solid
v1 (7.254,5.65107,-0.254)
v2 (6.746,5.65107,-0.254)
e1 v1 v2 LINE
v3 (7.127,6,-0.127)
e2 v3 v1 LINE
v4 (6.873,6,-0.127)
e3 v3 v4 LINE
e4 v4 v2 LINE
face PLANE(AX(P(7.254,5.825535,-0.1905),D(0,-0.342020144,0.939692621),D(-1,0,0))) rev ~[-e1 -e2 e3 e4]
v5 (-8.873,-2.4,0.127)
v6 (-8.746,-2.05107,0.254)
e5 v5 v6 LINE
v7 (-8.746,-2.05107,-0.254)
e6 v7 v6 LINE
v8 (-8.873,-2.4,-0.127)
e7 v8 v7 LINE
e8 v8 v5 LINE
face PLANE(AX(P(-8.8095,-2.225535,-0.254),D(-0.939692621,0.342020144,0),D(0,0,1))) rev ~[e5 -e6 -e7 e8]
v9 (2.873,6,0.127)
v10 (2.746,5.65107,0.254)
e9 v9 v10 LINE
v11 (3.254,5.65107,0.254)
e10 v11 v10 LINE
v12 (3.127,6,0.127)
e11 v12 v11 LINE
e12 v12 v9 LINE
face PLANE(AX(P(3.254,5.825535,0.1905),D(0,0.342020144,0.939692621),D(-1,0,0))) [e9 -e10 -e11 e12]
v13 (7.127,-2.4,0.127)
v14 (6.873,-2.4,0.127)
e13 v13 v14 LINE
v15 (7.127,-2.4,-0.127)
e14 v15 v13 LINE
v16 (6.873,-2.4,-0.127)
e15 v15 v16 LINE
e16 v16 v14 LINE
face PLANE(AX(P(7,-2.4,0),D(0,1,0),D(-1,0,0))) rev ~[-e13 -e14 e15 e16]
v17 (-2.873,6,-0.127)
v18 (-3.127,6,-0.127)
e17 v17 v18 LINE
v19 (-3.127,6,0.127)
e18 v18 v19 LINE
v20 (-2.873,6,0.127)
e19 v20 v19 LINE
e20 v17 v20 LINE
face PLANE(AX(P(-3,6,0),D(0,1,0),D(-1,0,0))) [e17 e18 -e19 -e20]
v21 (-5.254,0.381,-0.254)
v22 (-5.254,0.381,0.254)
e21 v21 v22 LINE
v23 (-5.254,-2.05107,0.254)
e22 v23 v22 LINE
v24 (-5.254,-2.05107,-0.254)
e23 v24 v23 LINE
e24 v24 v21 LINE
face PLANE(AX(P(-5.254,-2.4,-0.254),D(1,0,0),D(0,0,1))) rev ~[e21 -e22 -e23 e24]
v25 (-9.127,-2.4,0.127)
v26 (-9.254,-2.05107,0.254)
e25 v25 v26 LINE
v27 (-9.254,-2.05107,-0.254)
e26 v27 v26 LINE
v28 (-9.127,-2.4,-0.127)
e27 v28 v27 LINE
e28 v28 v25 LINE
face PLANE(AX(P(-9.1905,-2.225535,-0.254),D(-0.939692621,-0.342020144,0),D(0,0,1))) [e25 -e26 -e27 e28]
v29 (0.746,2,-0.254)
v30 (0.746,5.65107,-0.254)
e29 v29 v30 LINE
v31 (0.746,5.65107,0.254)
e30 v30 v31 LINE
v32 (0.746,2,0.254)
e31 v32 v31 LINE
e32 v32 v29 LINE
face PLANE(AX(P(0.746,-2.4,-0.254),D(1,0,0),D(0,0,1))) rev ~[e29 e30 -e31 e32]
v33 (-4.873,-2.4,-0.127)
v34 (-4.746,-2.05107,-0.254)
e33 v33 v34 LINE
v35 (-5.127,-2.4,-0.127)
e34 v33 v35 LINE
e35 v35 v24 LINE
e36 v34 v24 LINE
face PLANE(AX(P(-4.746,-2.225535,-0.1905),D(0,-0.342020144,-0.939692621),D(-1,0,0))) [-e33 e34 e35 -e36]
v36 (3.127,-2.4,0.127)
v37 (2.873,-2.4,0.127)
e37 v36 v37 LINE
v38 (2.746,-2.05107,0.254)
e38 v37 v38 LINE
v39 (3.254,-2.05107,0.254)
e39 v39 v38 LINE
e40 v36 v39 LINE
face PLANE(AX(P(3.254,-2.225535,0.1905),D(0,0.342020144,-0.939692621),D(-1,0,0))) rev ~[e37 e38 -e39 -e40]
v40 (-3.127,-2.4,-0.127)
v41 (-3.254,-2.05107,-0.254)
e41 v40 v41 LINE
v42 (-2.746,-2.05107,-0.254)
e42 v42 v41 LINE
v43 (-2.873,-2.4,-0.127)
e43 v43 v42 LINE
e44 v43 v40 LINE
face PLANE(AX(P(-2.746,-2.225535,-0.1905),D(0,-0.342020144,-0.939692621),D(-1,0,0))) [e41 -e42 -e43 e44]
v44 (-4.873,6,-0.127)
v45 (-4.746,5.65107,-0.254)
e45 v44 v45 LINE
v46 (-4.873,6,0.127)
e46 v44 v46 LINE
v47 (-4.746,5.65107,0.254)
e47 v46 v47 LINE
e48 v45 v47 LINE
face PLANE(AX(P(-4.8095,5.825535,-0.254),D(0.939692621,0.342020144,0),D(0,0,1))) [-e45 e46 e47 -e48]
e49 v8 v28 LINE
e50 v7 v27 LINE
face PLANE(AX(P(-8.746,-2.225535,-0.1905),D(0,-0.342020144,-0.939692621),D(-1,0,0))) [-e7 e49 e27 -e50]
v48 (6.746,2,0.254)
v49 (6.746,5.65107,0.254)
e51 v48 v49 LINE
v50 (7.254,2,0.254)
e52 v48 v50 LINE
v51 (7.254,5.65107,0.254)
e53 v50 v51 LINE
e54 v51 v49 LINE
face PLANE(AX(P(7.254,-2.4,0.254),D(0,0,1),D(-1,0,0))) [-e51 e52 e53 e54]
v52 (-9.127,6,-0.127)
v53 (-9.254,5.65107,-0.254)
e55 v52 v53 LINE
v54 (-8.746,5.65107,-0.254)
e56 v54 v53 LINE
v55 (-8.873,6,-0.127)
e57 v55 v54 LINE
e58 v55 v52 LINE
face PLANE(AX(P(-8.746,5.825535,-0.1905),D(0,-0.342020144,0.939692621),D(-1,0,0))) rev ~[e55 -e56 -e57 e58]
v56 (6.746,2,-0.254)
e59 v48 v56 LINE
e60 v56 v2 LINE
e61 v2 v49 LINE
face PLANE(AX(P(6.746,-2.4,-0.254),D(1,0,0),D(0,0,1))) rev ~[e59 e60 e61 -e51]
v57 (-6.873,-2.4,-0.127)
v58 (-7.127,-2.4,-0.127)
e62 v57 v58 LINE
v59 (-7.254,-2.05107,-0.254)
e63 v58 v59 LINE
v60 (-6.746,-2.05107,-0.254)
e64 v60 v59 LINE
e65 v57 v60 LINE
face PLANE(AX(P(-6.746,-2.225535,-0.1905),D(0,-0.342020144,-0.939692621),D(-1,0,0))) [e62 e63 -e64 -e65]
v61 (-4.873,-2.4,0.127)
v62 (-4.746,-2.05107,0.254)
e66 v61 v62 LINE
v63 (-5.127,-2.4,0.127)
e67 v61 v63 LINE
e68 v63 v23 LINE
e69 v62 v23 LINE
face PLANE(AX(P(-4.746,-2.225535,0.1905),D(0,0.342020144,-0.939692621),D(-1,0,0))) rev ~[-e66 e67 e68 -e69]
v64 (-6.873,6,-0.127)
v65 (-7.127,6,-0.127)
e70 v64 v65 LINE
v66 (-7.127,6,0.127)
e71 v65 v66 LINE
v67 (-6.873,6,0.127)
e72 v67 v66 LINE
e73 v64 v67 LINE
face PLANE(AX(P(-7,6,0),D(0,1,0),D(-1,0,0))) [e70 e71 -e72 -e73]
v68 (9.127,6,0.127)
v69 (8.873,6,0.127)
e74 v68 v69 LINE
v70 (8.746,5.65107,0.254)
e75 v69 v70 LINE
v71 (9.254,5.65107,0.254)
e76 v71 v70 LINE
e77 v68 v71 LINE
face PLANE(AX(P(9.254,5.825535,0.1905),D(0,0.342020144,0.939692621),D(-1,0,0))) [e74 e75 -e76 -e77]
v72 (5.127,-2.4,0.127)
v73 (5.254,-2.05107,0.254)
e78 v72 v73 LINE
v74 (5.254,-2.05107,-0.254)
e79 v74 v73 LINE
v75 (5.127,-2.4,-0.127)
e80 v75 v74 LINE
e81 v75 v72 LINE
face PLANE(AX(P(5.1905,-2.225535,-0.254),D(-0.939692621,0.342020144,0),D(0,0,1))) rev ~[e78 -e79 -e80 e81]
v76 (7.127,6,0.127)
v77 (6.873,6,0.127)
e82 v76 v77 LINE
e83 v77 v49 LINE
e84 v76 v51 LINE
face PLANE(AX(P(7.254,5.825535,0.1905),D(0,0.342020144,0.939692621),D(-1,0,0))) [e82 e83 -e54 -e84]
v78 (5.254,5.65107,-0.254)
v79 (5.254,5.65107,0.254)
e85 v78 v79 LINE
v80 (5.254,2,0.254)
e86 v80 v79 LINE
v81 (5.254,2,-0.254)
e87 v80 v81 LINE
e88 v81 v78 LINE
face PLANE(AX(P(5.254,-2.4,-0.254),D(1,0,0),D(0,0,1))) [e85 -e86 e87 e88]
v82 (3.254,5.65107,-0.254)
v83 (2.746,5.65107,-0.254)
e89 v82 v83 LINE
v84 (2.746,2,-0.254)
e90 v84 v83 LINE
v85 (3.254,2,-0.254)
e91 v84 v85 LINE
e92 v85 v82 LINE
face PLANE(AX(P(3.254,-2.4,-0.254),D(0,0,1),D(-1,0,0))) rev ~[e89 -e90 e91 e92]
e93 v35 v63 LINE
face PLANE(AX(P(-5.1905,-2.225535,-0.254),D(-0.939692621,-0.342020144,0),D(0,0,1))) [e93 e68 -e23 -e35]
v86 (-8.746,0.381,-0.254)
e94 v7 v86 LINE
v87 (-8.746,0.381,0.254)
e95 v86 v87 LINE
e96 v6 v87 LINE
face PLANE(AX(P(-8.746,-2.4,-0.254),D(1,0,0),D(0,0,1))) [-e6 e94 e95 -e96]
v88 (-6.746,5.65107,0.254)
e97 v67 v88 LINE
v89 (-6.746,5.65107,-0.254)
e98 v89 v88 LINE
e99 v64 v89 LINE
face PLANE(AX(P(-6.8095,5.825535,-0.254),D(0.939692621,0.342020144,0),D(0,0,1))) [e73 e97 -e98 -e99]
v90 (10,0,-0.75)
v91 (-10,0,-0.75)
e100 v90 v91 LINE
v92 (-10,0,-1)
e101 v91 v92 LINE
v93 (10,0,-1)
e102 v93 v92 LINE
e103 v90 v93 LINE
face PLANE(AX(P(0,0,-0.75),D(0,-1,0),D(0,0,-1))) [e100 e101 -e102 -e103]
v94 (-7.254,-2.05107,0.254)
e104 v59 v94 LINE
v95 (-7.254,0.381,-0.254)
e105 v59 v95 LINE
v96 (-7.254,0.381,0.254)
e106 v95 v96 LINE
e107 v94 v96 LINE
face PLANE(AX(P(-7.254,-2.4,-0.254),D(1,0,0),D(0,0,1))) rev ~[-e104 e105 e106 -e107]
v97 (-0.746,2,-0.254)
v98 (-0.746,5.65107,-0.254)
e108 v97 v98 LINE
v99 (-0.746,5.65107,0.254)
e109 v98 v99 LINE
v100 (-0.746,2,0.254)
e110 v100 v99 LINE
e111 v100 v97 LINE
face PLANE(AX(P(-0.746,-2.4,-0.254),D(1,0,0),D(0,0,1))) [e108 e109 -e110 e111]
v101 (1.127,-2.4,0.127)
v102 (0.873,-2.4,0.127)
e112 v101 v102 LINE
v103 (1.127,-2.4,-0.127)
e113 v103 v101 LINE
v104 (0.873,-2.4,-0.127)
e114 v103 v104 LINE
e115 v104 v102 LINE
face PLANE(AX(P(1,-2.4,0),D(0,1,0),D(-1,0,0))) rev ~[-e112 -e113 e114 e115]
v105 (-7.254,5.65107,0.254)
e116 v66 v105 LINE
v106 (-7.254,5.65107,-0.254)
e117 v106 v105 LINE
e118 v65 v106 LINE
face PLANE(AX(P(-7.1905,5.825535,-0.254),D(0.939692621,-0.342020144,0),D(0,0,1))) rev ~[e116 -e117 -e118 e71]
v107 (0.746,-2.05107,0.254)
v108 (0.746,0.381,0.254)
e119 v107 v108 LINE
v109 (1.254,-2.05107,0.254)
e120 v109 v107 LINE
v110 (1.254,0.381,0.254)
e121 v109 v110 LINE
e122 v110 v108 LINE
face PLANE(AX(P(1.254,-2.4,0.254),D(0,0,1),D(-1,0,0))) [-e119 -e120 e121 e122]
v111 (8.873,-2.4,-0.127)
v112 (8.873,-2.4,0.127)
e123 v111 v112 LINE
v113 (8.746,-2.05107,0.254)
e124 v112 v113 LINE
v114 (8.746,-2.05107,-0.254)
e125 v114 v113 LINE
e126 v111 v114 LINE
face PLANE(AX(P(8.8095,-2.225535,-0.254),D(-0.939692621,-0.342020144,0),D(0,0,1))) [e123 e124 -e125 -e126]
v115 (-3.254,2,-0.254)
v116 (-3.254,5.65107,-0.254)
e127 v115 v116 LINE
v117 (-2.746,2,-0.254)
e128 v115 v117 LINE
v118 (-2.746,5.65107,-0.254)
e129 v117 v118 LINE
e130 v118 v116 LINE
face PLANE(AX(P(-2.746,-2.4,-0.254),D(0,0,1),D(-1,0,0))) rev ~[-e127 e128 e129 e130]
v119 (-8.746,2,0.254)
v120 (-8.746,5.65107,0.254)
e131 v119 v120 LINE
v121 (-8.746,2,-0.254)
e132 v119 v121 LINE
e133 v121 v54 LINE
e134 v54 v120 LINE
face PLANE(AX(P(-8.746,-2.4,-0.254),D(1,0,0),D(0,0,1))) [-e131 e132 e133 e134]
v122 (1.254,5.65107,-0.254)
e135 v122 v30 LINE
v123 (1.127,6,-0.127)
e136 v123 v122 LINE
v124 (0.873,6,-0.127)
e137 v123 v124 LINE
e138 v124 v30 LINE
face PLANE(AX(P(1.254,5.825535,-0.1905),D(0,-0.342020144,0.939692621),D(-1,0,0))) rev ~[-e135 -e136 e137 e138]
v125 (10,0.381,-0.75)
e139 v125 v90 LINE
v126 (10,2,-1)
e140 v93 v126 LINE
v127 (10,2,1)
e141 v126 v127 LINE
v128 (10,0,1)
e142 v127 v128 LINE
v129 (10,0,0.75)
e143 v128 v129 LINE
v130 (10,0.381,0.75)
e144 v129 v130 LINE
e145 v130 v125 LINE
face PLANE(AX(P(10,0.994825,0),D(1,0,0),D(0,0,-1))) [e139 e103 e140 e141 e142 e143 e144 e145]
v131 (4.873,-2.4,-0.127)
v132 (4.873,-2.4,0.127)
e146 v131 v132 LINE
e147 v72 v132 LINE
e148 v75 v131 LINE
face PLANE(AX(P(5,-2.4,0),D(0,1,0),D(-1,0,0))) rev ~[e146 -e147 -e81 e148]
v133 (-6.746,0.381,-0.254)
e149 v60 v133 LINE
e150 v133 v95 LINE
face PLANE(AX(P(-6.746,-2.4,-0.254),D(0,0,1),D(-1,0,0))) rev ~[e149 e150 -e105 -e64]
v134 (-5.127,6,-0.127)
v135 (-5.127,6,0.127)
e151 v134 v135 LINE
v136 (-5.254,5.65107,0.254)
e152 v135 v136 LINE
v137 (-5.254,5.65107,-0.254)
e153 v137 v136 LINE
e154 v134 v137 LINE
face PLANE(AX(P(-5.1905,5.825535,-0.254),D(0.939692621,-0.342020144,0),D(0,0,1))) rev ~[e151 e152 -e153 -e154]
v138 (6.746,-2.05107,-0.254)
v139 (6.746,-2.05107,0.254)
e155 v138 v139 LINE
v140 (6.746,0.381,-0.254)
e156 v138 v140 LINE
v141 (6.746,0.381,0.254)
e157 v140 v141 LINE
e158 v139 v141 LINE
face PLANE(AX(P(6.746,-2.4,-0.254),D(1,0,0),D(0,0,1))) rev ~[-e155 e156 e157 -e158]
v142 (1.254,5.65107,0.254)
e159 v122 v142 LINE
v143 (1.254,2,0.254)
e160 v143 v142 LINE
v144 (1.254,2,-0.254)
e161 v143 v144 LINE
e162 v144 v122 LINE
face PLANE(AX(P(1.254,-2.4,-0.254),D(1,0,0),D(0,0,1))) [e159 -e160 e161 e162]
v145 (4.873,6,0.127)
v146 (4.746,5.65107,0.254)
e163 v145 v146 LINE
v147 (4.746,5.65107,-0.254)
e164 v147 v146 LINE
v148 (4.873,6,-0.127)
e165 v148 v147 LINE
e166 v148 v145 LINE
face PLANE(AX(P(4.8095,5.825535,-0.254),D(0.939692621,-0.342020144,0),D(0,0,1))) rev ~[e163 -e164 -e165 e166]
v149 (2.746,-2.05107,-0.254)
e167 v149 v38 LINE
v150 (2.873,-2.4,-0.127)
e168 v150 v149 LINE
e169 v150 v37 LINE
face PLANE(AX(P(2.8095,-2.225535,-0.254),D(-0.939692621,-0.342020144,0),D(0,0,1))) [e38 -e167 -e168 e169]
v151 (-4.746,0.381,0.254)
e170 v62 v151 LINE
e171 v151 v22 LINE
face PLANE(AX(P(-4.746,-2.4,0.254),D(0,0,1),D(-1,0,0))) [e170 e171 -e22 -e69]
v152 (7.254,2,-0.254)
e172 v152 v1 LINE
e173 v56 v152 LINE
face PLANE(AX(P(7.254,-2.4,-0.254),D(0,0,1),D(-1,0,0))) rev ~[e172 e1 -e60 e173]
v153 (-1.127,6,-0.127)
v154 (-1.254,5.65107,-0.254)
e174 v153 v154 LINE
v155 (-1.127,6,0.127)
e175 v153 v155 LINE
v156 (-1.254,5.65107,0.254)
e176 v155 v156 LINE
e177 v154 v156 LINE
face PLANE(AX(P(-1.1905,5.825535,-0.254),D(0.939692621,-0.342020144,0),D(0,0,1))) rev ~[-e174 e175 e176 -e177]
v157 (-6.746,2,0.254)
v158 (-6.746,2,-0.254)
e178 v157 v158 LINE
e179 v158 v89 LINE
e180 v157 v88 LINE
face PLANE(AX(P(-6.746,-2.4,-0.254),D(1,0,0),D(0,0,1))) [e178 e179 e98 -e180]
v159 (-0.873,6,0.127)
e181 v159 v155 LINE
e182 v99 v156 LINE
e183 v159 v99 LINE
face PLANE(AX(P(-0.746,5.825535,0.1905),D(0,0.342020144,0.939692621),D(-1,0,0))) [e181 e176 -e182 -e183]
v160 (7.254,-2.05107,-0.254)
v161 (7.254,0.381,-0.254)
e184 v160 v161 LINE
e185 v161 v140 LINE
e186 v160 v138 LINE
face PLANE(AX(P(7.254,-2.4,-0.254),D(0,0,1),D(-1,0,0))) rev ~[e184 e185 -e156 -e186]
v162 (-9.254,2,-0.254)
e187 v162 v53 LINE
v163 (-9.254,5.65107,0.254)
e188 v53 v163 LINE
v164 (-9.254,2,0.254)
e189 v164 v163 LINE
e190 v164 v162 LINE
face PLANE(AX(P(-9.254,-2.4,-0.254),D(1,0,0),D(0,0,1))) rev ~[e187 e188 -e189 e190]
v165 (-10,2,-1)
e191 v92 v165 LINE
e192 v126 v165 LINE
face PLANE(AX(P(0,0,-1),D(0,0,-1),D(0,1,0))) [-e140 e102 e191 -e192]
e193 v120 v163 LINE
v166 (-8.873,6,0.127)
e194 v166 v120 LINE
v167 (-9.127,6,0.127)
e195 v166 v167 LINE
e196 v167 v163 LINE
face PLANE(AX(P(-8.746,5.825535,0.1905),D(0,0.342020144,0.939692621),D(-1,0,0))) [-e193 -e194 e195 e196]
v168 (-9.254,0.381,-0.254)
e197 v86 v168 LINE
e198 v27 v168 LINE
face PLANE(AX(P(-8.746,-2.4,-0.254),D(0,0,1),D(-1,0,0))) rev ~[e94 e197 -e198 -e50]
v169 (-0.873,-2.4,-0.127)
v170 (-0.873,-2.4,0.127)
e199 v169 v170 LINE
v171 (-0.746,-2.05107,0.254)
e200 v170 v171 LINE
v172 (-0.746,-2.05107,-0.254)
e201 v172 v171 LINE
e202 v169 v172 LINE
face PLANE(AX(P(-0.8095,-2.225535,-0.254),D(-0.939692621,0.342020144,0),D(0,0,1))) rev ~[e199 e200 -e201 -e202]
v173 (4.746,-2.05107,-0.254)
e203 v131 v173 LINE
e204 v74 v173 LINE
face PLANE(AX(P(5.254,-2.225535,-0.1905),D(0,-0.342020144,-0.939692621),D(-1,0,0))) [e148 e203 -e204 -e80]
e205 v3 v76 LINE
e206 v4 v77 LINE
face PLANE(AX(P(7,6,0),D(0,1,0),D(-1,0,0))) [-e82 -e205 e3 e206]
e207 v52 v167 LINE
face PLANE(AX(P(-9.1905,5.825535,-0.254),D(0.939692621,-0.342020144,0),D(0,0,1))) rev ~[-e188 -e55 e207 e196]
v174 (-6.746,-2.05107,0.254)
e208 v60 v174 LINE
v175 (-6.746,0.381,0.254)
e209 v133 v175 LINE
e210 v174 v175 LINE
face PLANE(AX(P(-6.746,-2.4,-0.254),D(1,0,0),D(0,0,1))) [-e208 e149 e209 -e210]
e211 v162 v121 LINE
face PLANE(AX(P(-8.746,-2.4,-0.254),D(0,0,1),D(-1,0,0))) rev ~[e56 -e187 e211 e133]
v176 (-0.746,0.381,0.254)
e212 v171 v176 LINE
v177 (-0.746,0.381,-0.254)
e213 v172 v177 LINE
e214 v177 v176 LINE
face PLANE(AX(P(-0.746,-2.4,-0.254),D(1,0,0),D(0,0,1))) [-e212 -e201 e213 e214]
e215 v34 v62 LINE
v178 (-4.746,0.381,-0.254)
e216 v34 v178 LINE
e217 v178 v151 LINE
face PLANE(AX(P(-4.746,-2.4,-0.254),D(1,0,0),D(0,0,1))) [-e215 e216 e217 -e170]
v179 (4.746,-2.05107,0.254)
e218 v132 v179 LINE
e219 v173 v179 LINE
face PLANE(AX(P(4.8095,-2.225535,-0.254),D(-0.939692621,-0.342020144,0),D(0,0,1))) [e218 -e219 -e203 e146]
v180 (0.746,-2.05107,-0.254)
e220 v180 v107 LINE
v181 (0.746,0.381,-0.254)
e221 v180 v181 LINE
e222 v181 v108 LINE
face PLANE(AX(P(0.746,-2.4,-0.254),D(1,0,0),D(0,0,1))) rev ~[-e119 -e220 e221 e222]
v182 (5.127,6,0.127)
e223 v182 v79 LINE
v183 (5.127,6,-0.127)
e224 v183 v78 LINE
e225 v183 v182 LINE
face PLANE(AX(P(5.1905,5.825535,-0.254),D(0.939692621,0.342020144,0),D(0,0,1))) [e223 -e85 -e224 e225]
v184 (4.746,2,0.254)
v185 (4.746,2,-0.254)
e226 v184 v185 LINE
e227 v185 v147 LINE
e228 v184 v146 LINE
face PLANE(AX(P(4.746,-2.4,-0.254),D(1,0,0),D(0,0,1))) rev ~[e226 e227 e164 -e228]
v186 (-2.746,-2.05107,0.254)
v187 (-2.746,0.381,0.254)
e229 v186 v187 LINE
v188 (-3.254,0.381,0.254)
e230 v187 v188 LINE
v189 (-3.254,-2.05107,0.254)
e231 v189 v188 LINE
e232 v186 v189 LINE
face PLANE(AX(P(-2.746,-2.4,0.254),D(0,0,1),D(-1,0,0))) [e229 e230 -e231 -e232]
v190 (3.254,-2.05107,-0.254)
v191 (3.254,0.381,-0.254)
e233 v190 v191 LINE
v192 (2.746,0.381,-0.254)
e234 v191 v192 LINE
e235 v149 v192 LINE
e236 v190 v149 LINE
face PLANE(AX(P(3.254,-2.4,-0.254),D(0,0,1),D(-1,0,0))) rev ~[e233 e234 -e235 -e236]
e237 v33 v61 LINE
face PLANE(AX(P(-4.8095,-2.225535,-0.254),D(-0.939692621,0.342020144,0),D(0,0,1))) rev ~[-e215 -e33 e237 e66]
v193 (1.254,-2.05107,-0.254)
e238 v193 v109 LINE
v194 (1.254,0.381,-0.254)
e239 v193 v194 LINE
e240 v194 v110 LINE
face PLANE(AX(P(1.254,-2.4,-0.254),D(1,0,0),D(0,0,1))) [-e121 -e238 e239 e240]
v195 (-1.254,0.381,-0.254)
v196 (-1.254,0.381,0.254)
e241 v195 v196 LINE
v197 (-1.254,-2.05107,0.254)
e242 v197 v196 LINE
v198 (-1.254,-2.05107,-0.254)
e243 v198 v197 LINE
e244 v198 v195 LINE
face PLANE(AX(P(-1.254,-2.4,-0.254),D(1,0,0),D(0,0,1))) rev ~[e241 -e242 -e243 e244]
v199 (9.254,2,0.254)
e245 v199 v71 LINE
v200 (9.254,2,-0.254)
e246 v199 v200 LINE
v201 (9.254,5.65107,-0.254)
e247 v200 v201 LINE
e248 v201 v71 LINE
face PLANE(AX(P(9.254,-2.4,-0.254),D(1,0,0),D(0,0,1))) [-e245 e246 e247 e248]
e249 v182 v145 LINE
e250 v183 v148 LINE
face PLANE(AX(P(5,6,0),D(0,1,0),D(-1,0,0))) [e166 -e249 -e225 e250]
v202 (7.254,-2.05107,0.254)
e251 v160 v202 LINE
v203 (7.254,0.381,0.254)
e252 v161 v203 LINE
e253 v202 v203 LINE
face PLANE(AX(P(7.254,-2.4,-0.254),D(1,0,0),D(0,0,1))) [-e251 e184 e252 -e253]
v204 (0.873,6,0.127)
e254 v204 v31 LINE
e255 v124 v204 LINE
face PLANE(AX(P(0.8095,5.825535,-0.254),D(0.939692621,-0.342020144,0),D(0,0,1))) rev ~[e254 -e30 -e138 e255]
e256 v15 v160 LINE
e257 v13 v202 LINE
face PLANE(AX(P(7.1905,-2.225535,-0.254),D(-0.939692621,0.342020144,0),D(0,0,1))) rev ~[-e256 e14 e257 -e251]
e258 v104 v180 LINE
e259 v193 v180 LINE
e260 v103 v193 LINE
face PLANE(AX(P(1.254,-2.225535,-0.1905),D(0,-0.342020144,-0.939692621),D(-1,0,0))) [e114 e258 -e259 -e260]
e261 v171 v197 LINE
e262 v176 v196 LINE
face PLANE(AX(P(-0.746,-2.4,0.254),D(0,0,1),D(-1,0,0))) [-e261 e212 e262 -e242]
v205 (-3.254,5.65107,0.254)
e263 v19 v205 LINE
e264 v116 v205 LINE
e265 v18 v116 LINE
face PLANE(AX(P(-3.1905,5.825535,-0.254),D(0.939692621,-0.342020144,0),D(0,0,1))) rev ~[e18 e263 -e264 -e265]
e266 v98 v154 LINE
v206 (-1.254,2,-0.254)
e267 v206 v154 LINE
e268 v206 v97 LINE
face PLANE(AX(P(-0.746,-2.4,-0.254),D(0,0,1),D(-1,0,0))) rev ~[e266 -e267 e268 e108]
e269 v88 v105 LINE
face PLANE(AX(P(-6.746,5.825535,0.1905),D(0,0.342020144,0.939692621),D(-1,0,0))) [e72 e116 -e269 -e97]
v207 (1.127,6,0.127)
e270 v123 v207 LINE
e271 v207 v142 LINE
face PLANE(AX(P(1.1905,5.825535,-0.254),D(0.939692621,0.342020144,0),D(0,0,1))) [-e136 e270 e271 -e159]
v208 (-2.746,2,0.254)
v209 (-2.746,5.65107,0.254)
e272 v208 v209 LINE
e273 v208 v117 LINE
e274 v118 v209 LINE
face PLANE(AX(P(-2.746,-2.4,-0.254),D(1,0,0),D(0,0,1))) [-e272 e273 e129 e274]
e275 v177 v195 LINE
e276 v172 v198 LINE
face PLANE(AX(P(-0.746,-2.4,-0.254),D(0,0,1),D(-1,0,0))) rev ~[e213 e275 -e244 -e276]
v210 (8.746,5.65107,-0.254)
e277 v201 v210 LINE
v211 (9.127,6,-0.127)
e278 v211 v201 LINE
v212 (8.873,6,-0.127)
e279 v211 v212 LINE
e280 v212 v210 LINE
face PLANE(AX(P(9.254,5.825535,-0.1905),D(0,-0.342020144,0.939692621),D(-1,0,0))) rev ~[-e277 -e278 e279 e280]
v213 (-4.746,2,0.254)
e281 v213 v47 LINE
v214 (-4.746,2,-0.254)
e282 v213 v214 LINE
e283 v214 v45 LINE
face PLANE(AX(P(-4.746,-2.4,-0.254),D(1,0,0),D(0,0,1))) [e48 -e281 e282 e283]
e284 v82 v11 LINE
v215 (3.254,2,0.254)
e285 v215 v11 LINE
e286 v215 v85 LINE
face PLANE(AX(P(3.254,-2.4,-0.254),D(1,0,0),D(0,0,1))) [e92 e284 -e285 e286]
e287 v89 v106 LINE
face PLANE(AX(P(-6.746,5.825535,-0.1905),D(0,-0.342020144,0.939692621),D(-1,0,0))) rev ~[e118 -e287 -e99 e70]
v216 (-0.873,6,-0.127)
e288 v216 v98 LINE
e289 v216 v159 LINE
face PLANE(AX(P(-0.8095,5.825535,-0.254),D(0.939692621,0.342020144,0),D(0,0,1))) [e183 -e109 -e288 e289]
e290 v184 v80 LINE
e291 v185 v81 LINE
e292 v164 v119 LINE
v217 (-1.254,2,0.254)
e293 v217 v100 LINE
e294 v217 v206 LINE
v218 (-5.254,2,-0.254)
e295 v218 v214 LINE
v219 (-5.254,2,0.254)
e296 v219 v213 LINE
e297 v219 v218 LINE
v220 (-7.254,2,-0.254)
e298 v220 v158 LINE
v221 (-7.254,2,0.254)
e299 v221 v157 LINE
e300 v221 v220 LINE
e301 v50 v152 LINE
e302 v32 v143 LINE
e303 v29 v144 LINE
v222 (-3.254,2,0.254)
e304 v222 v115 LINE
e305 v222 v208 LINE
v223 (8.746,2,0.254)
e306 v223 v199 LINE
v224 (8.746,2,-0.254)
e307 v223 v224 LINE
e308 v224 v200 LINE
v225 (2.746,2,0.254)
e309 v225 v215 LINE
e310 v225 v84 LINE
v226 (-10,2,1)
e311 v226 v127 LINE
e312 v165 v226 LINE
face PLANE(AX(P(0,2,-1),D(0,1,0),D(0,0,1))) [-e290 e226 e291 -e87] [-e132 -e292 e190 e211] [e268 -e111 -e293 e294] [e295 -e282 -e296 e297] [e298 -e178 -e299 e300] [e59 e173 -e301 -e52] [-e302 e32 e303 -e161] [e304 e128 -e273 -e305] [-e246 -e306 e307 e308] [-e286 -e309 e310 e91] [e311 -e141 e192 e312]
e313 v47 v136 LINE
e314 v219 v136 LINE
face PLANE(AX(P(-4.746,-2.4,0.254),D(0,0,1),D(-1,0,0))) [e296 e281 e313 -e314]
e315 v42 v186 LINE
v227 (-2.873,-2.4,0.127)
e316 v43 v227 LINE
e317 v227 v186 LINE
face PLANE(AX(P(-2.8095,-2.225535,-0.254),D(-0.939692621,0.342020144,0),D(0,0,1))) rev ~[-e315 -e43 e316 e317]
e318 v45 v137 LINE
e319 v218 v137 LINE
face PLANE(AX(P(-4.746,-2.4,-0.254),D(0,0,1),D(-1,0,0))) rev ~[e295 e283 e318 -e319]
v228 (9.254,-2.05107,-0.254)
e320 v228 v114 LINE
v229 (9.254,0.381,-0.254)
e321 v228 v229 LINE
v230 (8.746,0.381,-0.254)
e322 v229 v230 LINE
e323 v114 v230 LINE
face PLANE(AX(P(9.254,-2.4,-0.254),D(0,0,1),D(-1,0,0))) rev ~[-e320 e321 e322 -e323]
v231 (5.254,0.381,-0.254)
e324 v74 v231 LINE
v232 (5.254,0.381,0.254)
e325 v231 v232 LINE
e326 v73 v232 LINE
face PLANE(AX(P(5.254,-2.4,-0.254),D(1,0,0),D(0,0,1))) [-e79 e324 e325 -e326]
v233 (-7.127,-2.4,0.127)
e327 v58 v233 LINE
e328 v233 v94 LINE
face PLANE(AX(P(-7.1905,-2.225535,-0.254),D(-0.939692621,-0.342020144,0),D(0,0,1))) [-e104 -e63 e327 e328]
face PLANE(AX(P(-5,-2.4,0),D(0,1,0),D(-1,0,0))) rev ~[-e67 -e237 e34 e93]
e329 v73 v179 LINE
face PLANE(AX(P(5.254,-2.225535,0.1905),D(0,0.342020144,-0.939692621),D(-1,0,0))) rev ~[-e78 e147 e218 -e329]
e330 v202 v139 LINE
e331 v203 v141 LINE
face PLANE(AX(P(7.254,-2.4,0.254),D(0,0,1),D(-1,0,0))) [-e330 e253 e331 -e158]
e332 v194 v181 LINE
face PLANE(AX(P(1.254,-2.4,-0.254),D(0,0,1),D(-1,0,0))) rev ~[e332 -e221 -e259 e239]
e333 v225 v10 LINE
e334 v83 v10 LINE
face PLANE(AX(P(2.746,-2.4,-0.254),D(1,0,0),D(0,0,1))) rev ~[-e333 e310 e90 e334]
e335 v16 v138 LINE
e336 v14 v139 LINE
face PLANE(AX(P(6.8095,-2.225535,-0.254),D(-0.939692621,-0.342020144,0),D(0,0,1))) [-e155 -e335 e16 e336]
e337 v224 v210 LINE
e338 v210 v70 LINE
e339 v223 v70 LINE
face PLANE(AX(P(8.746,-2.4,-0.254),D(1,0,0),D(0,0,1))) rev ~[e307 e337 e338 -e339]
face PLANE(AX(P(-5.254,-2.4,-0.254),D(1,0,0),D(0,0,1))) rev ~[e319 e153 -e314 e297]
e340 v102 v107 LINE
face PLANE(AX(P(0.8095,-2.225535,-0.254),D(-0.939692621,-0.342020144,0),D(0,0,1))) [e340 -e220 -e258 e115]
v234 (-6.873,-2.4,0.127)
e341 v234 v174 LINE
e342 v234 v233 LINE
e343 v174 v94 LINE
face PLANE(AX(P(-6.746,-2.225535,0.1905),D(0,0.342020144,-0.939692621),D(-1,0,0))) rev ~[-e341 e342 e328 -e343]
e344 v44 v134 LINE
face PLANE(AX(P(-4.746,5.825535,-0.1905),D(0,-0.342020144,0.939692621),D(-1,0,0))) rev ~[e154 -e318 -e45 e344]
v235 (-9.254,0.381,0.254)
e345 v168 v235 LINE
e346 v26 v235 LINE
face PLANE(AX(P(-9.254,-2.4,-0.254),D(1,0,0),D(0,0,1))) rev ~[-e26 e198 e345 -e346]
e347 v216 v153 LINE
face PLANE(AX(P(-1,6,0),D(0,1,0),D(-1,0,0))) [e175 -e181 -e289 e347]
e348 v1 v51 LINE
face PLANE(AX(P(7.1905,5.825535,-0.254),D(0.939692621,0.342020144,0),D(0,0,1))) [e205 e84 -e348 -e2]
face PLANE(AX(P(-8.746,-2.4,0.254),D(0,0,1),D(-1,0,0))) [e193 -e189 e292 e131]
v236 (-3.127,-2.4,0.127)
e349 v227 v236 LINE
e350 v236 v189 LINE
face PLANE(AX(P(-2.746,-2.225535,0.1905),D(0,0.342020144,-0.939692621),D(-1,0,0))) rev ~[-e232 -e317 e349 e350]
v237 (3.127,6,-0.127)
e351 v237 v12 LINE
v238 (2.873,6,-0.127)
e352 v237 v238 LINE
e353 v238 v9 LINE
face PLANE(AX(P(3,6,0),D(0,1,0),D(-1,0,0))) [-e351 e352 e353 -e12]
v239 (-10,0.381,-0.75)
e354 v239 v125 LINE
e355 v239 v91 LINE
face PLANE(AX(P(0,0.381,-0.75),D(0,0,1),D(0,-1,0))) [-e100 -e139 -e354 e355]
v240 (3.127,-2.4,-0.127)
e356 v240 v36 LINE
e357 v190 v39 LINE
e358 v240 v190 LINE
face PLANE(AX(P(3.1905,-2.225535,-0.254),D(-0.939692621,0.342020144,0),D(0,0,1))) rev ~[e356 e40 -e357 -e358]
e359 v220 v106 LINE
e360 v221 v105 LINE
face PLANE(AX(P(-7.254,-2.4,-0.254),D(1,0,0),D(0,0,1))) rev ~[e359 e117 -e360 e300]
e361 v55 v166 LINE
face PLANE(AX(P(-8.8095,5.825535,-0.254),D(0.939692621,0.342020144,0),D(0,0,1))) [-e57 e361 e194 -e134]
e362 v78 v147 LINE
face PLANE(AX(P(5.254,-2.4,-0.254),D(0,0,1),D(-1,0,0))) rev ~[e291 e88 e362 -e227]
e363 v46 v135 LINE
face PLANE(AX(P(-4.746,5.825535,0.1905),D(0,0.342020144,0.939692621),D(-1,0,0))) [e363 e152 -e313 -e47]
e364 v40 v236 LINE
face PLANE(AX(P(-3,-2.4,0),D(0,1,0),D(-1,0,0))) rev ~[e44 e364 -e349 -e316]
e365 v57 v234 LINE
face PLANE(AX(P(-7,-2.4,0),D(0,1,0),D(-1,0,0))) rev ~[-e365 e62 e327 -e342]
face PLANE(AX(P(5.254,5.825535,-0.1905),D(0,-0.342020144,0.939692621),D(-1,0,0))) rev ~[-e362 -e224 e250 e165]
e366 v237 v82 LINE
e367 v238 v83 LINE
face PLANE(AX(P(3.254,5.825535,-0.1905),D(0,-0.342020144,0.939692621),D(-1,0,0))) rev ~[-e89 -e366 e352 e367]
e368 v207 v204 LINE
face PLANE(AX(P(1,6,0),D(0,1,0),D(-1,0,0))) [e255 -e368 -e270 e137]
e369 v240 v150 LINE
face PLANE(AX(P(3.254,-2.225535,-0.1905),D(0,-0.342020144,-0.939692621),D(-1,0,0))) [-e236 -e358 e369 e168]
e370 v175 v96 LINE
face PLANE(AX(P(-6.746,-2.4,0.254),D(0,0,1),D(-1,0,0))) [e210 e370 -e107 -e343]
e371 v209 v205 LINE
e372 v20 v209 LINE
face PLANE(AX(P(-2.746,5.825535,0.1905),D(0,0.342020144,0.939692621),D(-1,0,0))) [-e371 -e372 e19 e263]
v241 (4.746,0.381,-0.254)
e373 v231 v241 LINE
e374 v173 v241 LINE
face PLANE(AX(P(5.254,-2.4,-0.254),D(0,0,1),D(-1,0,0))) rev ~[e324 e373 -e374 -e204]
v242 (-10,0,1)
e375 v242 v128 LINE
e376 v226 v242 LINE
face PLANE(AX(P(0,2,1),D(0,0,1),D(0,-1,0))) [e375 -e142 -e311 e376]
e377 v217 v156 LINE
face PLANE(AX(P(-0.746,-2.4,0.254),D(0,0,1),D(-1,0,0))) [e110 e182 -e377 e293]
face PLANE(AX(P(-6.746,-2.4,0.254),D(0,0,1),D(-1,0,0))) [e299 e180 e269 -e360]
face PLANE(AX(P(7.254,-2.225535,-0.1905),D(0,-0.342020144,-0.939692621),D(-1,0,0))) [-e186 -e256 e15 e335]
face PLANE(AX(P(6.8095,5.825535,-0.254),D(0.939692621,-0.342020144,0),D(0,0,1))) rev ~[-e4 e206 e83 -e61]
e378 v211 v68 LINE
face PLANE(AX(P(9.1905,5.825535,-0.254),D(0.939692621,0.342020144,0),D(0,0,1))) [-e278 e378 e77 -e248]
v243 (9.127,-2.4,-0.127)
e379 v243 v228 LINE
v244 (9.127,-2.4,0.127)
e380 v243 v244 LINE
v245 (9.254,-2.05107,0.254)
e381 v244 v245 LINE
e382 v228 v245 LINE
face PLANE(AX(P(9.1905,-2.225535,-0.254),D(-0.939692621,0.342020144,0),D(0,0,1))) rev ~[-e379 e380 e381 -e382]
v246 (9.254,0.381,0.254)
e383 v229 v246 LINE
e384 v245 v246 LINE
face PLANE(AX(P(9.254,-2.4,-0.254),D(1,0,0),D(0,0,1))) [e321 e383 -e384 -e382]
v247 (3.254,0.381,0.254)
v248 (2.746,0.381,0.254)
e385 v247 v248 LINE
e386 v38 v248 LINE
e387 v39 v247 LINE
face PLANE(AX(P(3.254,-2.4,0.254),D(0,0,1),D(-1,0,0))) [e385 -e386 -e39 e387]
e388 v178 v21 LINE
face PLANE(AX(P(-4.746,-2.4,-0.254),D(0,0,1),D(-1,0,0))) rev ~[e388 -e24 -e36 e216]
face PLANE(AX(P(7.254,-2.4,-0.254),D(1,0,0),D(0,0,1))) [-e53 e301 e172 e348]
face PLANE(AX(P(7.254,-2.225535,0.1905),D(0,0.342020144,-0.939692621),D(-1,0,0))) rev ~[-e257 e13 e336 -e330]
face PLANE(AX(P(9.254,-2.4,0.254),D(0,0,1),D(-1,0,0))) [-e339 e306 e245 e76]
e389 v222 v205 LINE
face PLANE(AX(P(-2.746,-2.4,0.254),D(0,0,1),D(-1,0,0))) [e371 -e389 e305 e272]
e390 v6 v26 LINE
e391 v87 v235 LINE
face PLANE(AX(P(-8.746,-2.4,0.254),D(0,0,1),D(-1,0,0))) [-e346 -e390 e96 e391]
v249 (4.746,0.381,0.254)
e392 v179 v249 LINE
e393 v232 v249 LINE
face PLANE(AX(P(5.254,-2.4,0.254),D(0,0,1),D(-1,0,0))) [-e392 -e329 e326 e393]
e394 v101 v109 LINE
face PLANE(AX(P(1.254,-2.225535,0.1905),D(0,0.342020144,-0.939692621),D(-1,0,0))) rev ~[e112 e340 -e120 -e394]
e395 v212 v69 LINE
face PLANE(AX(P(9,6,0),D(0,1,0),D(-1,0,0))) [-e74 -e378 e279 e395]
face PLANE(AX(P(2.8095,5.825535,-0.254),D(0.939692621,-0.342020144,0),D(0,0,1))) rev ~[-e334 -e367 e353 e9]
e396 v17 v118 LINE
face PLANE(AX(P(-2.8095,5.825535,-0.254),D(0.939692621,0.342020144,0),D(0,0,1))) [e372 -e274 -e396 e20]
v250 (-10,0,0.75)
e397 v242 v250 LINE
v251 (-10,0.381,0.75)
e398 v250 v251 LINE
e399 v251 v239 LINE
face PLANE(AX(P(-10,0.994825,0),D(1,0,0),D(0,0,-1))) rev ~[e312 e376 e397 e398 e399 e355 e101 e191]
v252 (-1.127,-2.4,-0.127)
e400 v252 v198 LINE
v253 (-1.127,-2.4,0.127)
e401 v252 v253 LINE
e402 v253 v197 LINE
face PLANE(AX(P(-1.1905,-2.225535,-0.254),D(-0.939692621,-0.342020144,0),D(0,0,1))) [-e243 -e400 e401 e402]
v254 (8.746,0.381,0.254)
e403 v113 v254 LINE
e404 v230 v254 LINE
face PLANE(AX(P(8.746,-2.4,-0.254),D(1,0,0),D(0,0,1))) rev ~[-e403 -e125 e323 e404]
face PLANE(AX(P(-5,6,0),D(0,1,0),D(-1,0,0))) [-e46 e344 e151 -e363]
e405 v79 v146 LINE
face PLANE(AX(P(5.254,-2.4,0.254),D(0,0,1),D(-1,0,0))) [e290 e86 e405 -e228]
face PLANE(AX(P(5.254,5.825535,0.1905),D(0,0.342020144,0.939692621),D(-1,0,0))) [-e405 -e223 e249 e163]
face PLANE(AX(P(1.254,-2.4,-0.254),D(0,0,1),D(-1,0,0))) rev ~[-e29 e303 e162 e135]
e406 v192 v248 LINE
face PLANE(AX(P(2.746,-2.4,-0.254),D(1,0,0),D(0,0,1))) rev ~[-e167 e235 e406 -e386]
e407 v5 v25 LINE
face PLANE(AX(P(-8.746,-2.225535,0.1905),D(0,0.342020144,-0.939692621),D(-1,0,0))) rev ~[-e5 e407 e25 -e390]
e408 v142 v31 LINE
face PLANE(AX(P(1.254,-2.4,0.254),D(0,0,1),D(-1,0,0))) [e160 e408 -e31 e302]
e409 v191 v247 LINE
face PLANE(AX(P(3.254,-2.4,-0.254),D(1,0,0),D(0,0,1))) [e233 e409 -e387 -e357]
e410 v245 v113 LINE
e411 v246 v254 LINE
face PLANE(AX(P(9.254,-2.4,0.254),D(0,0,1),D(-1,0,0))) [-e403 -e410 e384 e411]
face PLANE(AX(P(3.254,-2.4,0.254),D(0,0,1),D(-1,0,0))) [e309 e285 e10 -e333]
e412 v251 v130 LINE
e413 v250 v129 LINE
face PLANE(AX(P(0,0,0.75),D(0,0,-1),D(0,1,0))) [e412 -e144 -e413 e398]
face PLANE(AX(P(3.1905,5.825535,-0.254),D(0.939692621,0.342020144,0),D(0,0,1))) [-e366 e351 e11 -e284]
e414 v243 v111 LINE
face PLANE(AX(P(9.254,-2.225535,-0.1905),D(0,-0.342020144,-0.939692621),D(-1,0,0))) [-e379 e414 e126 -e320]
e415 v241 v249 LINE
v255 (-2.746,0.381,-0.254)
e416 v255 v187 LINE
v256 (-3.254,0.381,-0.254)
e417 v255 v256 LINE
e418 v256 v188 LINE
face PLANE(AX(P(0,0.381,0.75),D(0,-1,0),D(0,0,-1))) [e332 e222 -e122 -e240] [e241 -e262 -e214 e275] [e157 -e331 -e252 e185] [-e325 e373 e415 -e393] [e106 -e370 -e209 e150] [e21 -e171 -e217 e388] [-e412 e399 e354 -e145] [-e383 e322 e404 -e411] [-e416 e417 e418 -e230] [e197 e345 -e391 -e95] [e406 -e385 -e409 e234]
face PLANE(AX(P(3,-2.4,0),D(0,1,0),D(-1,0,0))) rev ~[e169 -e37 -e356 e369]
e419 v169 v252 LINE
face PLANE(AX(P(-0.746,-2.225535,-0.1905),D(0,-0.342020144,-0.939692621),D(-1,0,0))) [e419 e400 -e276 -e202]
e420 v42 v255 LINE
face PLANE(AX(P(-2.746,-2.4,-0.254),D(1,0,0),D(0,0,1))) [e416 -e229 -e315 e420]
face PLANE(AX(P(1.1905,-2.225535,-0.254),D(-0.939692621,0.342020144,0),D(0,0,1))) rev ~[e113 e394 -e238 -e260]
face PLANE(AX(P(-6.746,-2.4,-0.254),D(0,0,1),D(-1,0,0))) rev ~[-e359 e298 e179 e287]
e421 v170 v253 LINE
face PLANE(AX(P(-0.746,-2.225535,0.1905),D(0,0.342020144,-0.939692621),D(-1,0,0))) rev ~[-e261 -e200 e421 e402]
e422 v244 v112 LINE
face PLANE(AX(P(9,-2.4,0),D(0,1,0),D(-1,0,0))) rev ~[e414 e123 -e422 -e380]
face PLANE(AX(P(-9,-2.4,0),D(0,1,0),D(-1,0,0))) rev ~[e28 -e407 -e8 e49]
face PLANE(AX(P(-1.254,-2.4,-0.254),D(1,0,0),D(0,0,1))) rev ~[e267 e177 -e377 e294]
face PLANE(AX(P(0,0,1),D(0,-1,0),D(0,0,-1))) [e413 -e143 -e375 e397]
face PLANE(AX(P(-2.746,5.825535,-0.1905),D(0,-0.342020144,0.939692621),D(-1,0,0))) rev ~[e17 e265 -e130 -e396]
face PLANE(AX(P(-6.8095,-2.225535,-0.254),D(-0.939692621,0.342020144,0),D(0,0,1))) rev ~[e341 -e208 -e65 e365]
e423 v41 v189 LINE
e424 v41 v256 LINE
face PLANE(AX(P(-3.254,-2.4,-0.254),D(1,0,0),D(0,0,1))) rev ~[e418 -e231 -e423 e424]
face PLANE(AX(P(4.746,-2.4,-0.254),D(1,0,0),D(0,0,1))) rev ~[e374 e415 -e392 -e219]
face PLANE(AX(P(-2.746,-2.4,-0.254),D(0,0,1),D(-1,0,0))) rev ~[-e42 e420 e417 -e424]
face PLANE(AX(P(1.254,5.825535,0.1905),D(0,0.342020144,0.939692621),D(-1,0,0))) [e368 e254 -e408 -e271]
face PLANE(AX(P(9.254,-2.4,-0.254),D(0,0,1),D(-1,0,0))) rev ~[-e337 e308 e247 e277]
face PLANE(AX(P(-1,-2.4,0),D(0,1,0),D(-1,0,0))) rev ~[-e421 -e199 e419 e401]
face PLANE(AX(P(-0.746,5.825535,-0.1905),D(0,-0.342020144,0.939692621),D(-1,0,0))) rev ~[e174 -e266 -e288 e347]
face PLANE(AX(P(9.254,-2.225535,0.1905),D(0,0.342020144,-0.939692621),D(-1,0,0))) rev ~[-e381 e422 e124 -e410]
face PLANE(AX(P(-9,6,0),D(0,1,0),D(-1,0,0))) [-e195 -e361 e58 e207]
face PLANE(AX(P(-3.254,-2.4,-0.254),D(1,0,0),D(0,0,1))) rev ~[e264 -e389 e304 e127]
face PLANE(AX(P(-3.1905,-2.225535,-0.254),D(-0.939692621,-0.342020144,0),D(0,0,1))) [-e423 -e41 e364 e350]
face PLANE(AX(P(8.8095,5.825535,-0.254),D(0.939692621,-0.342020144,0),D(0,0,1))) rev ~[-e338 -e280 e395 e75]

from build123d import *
from OCP.BRepFilletAPI import BRepFilletAPI_MakeChamfer

# Parameters (mm, degrees)
BASE_EXTRUDE_DEPTH                 = 10
PINBODY_START                      = -4.4
SKETCH2_W                          = 0.508
SKETCH2_H                          = 0.508
PINBODY_DEPTH                      = 8.4
PINSCHAMFER_SIZE                   = 0.127
PINSCHAMFER_SIZE2                  = 0.348929632
LPATTERN1_COUNT                    = 5
LPATTERN1_PITCH                    = 2
PINSCHAMFER_OF_LPATTERN1_SIZE      = 0.127
PINSCHAMFER_OF_LPATTERN1_SIZE2     = 0.348929632
LPATTERN1_COL_COUNT                = 6
LPATTERN1_COL_PITCH                = 2.000000064
PINSCHAMFER_OF_LPATTERN1_COL_SIZE  = 0.127
PINSCHAMFER_OF_LPATTERN1_COL_SIZE2 = 0.348929632


with BuildPart() as part:
    # Sketch1 → Base-Extrude (new, symmetric)
    with BuildSketch(Plane(origin=(0, 0, 0), x_dir=(0, 0, -1), z_dir=(1, 0, 0))):
        Polygon((1, 0.409926053), (1, 2), (-1, 2), (-1, 0.409926053), (-1, 0), (-0.75, 0), (-0.75, 0.381), (0.75, 0.381), (0.75, 0), (1, 0), align=None)
    extrude(amount=BASE_EXTRUDE_DEPTH, both=True)

    # Sketch2 → PINBODY (add)
    with BuildSketch(Plane(origin=(0, 2, 0), x_dir=(-1, 0, 0), z_dir=(0, 1, 0)).offset(PINBODY_START)):
        with Locations((1, 0)):
            Rectangle(SKETCH2_W, SKETCH2_H)
    pinbody = extrude(amount=PINBODY_DEPTH)

    # pinsCHAMFER: one chamfer whose edges measure the first distance from different faces: ONE call of the kernel's chamfer builder (chamfer() names one face for all edges)
    pinschamfer_edges_1 = [part.edges().sort_by_distance(p)[0] for p in [
        (-1.254, -2.4, 0),
        (-1, -2.4, 0.254),
        (-0.746, -2.4, 0),
        (-1, -2.4, -0.254),
    ]]
    pinschamfer_side_1 = [part.faces().sort_by_distance(p)[0] for p in [
        (-1, -2.4, 0),
    ]]
    pinschamfer_edges_2 = [part.edges().sort_by_distance(p)[0] for p in [
        (-1.254, 6, 0),
        (-1, 6, 0.254),
        (-0.746, 6, 0),
        (-1, 6, -0.254),
    ]]
    pinschamfer_side_2 = [part.faces().sort_by_distance(p)[0] for p in [
        (-1, 6, 0),
    ]]
    pinschamfer = BRepFilletAPI_MakeChamfer(part.part.solid().wrapped)
    for e in pinschamfer_edges_1:
        pinschamfer.Add(PINSCHAMFER_SIZE, PINSCHAMFER_SIZE2, e.wrapped, pinschamfer_side_1[0].wrapped)  # the first distance lies on this face
    for e in pinschamfer_edges_2:
        pinschamfer.Add(PINSCHAMFER_SIZE, PINSCHAMFER_SIZE2, e.wrapped, pinschamfer_side_2[0].wrapped)  # the first distance lies on this face
    add(Compound.cast(pinschamfer.Shape()), mode=Mode.REPLACE)

    # LPattern1: PINBODY ×5
    with Locations(*[(-i * LPATTERN1_PITCH, 0, 0) for i in range(1, LPATTERN1_COUNT)]):
        add(pinbody)

    # pinsCHAMFER of LPattern1: one chamfer whose edges measure the first distance from different faces: ONE call of the kernel's chamfer builder (chamfer() names one face for all edges)
    pinschamfer_of_lpattern1_edges_1 = [part.edges().sort_by_distance(p)[0] for p in [
        (-3.254, -2.4, 0),
        (-3, -2.4, 0.254),
        (-2.746, -2.4, 0),
        (-3, -2.4, -0.254),
    ]]
    pinschamfer_of_lpattern1_side_1 = [part.faces().sort_by_distance(p)[0] for p in [
        (-3, -2.4, 0),
    ]]
    pinschamfer_of_lpattern1_edges_2 = [part.edges().sort_by_distance(p)[0] for p in [
        (-3.254, 6, 0),
        (-3, 6, 0.254),
        (-2.746, 6, 0),
        (-3, 6, -0.254),
    ]]
    pinschamfer_of_lpattern1_side_2 = [part.faces().sort_by_distance(p)[0] for p in [
        (-3, 6, 0),
    ]]
    pinschamfer_of_lpattern1_edges_3 = [part.edges().sort_by_distance(p)[0] for p in [
        (-5.254, -2.4, 0),
        (-5, -2.4, 0.254),
        (-4.746, -2.4, 0),
        (-5, -2.4, -0.254),
    ]]
    pinschamfer_of_lpattern1_side_3 = [part.faces().sort_by_distance(p)[0] for p in [
        (-5, -2.4, 0),
    ]]
    pinschamfer_of_lpattern1_edges_4 = [part.edges().sort_by_distance(p)[0] for p in [
        (-5.254, 6, 0),
        (-5, 6, 0.254),
        (-4.746, 6, 0),
        (-5, 6, -0.254),
    ]]
    pinschamfer_of_lpattern1_side_4 = [part.faces().sort_by_distance(p)[0] for p in [
        (-5, 6, 0),
    ]]
    pinschamfer_of_lpattern1_edges_5 = [part.edges().sort_by_distance(p)[0] for p in [
        (-7.254, -2.4, 0),
        (-7, -2.4, 0.254),
        (-6.746, -2.4, 0),
        (-7, -2.4, -0.254),
    ]]
    pinschamfer_of_lpattern1_side_5 = [part.faces().sort_by_distance(p)[0] for p in [
        (-7, -2.4, 0),
    ]]
    pinschamfer_of_lpattern1_edges_6 = [part.edges().sort_by_distance(p)[0] for p in [
        (-7.254, 6, 0),
        (-7, 6, 0.254),
        (-6.746, 6, 0),
        (-7, 6, -0.254),
    ]]
    pinschamfer_of_lpattern1_side_6 = [part.faces().sort_by_distance(p)[0] for p in [
        (-7, 6, 0),
    ]]
    pinschamfer_of_lpattern1_edges_7 = [part.edges().sort_by_distance(p)[0] for p in [
        (-9.254, -2.4, 0),
        (-9, -2.4, 0.254),
        (-8.746, -2.4, 0),
        (-9, -2.4, -0.254),
    ]]
    pinschamfer_of_lpattern1_side_7 = [part.faces().sort_by_distance(p)[0] for p in [
        (-9, -2.4, 0),
    ]]
    pinschamfer_of_lpattern1_edges_8 = [part.edges().sort_by_distance(p)[0] for p in [
        (-9.254, 6, 0),
        (-9, 6, 0.254),
        (-8.746, 6, 0),
        (-9, 6, -0.254),
    ]]
    pinschamfer_of_lpattern1_side_8 = [part.faces().sort_by_distance(p)[0] for p in [
        (-9, 6, 0),
    ]]
    pinschamfer_of_lpattern1 = BRepFilletAPI_MakeChamfer(part.part.solid().wrapped)
    for e in pinschamfer_of_lpattern1_edges_1:
        pinschamfer_of_lpattern1.Add(PINSCHAMFER_OF_LPATTERN1_SIZE, PINSCHAMFER_OF_LPATTERN1_SIZE2, e.wrapped, pinschamfer_of_lpattern1_side_1[0].wrapped)  # the first distance lies on this face
    for e in pinschamfer_of_lpattern1_edges_2:
        pinschamfer_of_lpattern1.Add(PINSCHAMFER_OF_LPATTERN1_SIZE, PINSCHAMFER_OF_LPATTERN1_SIZE2, e.wrapped, pinschamfer_of_lpattern1_side_2[0].wrapped)  # the first distance lies on this face
    for e in pinschamfer_of_lpattern1_edges_3:
        pinschamfer_of_lpattern1.Add(PINSCHAMFER_OF_LPATTERN1_SIZE, PINSCHAMFER_OF_LPATTERN1_SIZE2, e.wrapped, pinschamfer_of_lpattern1_side_3[0].wrapped)  # the first distance lies on this face
    for e in pinschamfer_of_lpattern1_edges_4:
        pinschamfer_of_lpattern1.Add(PINSCHAMFER_OF_LPATTERN1_SIZE, PINSCHAMFER_OF_LPATTERN1_SIZE2, e.wrapped, pinschamfer_of_lpattern1_side_4[0].wrapped)  # the first distance lies on this face
    for e in pinschamfer_of_lpattern1_edges_5:
        pinschamfer_of_lpattern1.Add(PINSCHAMFER_OF_LPATTERN1_SIZE, PINSCHAMFER_OF_LPATTERN1_SIZE2, e.wrapped, pinschamfer_of_lpattern1_side_5[0].wrapped)  # the first distance lies on this face
    for e in pinschamfer_of_lpattern1_edges_6:
        pinschamfer_of_lpattern1.Add(PINSCHAMFER_OF_LPATTERN1_SIZE, PINSCHAMFER_OF_LPATTERN1_SIZE2, e.wrapped, pinschamfer_of_lpattern1_side_6[0].wrapped)  # the first distance lies on this face
    for e in pinschamfer_of_lpattern1_edges_7:
        pinschamfer_of_lpattern1.Add(PINSCHAMFER_OF_LPATTERN1_SIZE, PINSCHAMFER_OF_LPATTERN1_SIZE2, e.wrapped, pinschamfer_of_lpattern1_side_7[0].wrapped)  # the first distance lies on this face
    for e in pinschamfer_of_lpattern1_edges_8:
        pinschamfer_of_lpattern1.Add(PINSCHAMFER_OF_LPATTERN1_SIZE, PINSCHAMFER_OF_LPATTERN1_SIZE2, e.wrapped, pinschamfer_of_lpattern1_side_8[0].wrapped)  # the first distance lies on this face
    add(Compound.cast(pinschamfer_of_lpattern1.Shape()), mode=Mode.REPLACE)

    # LPattern1 col: PINBODY ×6
    with Locations(*[(i * LPATTERN1_COL_PITCH, 0, 0) for i in range(1, LPATTERN1_COL_COUNT)]):
        add(pinbody)

    # pinsCHAMFER of LPattern1 col: one chamfer whose edges measure the first distance from different faces: ONE call of the kernel's chamfer builder (chamfer() names one face for all edges)
    pinschamfer_of_lpattern1_col_edges_1 = [part.edges().sort_by_distance(p)[0] for p in [
        (0.746000064, -2.4, 0),
        (1.000000064, -2.4, 0.254),
        (1.254000064, -2.4, 0),
        (1.000000064, -2.4, -0.254),
    ]]
    pinschamfer_of_lpattern1_col_side_1 = [part.faces().sort_by_distance(p)[0] for p in [
        (1.000000064, -2.4, 0),
    ]]
    pinschamfer_of_lpattern1_col_edges_2 = [part.edges().sort_by_distance(p)[0] for p in [
        (0.746000064, 6, 0),
        (1.000000064, 6, 0.254),
        (1.254000064, 6, 0),
        (1.000000064, 6, -0.254),
    ]]
    pinschamfer_of_lpattern1_col_side_2 = [part.faces().sort_by_distance(p)[0] for p in [
        (1.000000064, 6, 0),
    ]]
    pinschamfer_of_lpattern1_col_edges_3 = [part.edges().sort_by_distance(p)[0] for p in [
        (2.746000128, -2.4, 0),
        (3.000000128, -2.4, 0.254),
        (3.254000128, -2.4, 0),
        (3.000000128, -2.4, -0.254),
    ]]
    pinschamfer_of_lpattern1_col_side_3 = [part.faces().sort_by_distance(p)[0] for p in [
        (3.000000128, -2.4, 0),
    ]]
    pinschamfer_of_lpattern1_col_edges_4 = [part.edges().sort_by_distance(p)[0] for p in [
        (2.746000128, 6, 0),
        (3.000000128, 6, 0.254),
        (3.254000128, 6, 0),
        (3.000000128, 6, -0.254),
    ]]
    pinschamfer_of_lpattern1_col_side_4 = [part.faces().sort_by_distance(p)[0] for p in [
        (3.000000128, 6, 0),
    ]]
    pinschamfer_of_lpattern1_col_edges_5 = [part.edges().sort_by_distance(p)[0] for p in [
        (4.746000192, -2.4, 0),
        (5.000000192, -2.4, 0.254),
        (5.254000192, -2.4, 0),
        (5.000000192, -2.4, -0.254),
    ]]
    pinschamfer_of_lpattern1_col_side_5 = [part.faces().sort_by_distance(p)[0] for p in [
        (5.000000192, -2.4, 0),
    ]]
    pinschamfer_of_lpattern1_col_edges_6 = [part.edges().sort_by_distance(p)[0] for p in [
        (4.746000192, 6, 0),
        (5.000000192, 6, 0.254),
        (5.254000192, 6, 0),
        (5.000000192, 6, -0.254),
    ]]
    pinschamfer_of_lpattern1_col_side_6 = [part.faces().sort_by_distance(p)[0] for p in [
        (5.000000192, 6, 0),
    ]]
    pinschamfer_of_lpattern1_col_edges_7 = [part.edges().sort_by_distance(p)[0] for p in [
        (6.746000256, -2.4, 0),
        (7.000000256, -2.4, 0.254),
        (7.254000256, -2.4, 0),
        (7.000000256, -2.4, -0.254),
    ]]
    pinschamfer_of_lpattern1_col_side_7 = [part.faces().sort_by_distance(p)[0] for p in [
        (7.000000256, -2.4, 0),
    ]]
    pinschamfer_of_lpattern1_col_edges_8 = [part.edges().sort_by_distance(p)[0] for p in [
        (6.746000256, 6, 0),
        (7.000000256, 6, 0.254),
        (7.254000256, 6, 0),
        (7.000000256, 6, -0.254),
    ]]
    pinschamfer_of_lpattern1_col_side_8 = [part.faces().sort_by_distance(p)[0] for p in [
        (7.000000256, 6, 0),
    ]]
    pinschamfer_of_lpattern1_col_edges_9 = [part.edges().sort_by_distance(p)[0] for p in [
        (8.74600032, -2.4, 0),
        (9.00000032, -2.4, 0.254),
        (9.25400032, -2.4, 0),
        (9.00000032, -2.4, -0.254),
    ]]
    pinschamfer_of_lpattern1_col_side_9 = [part.faces().sort_by_distance(p)[0] for p in [
        (9.00000032, -2.4, 0),
    ]]
    pinschamfer_of_lpattern1_col_edges_10 = [part.edges().sort_by_distance(p)[0] for p in [
        (8.74600032, 6, 0),
        (9.00000032, 6, 0.254),
        (9.25400032, 6, 0),
        (9.00000032, 6, -0.254),
    ]]
    pinschamfer_of_lpattern1_col_side_10 = [part.faces().sort_by_distance(p)[0] for p in [
        (9.00000032, 6, 0),
    ]]
    pinschamfer_of_lpattern1_col = BRepFilletAPI_MakeChamfer(part.part.solid().wrapped)
    for e in pinschamfer_of_lpattern1_col_edges_1:
        pinschamfer_of_lpattern1_col.Add(PINSCHAMFER_OF_LPATTERN1_COL_SIZE, PINSCHAMFER_OF_LPATTERN1_COL_SIZE2, e.wrapped, pinschamfer_of_lpattern1_col_side_1[0].wrapped)  # the first distance lies on this face
    for e in pinschamfer_of_lpattern1_col_edges_2:
        pinschamfer_of_lpattern1_col.Add(PINSCHAMFER_OF_LPATTERN1_COL_SIZE, PINSCHAMFER_OF_LPATTERN1_COL_SIZE2, e.wrapped, pinschamfer_of_lpattern1_col_side_2[0].wrapped)  # the first distance lies on this face
    for e in pinschamfer_of_lpattern1_col_edges_3:
        pinschamfer_of_lpattern1_col.Add(PINSCHAMFER_OF_LPATTERN1_COL_SIZE, PINSCHAMFER_OF_LPATTERN1_COL_SIZE2, e.wrapped, pinschamfer_of_lpattern1_col_side_3[0].wrapped)  # the first distance lies on this face
    for e in pinschamfer_of_lpattern1_col_edges_4:
        pinschamfer_of_lpattern1_col.Add(PINSCHAMFER_OF_LPATTERN1_COL_SIZE, PINSCHAMFER_OF_LPATTERN1_COL_SIZE2, e.wrapped, pinschamfer_of_lpattern1_col_side_4[0].wrapped)  # the first distance lies on this face
    for e in pinschamfer_of_lpattern1_col_edges_5:
        pinschamfer_of_lpattern1_col.Add(PINSCHAMFER_OF_LPATTERN1_COL_SIZE, PINSCHAMFER_OF_LPATTERN1_COL_SIZE2, e.wrapped, pinschamfer_of_lpattern1_col_side_5[0].wrapped)  # the first distance lies on this face
    for e in pinschamfer_of_lpattern1_col_edges_6:
        pinschamfer_of_lpattern1_col.Add(PINSCHAMFER_OF_LPATTERN1_COL_SIZE, PINSCHAMFER_OF_LPATTERN1_COL_SIZE2, e.wrapped, pinschamfer_of_lpattern1_col_side_6[0].wrapped)  # the first distance lies on this face
    for e in pinschamfer_of_lpattern1_col_edges_7:
        pinschamfer_of_lpattern1_col.Add(PINSCHAMFER_OF_LPATTERN1_COL_SIZE, PINSCHAMFER_OF_LPATTERN1_COL_SIZE2, e.wrapped, pinschamfer_of_lpattern1_col_side_7[0].wrapped)  # the first distance lies on this face
    for e in pinschamfer_of_lpattern1_col_edges_8:
        pinschamfer_of_lpattern1_col.Add(PINSCHAMFER_OF_LPATTERN1_COL_SIZE, PINSCHAMFER_OF_LPATTERN1_COL_SIZE2, e.wrapped, pinschamfer_of_lpattern1_col_side_8[0].wrapped)  # the first distance lies on this face
    for e in pinschamfer_of_lpattern1_col_edges_9:
        pinschamfer_of_lpattern1_col.Add(PINSCHAMFER_OF_LPATTERN1_COL_SIZE, PINSCHAMFER_OF_LPATTERN1_COL_SIZE2, e.wrapped, pinschamfer_of_lpattern1_col_side_9[0].wrapped)  # the first distance lies on this face
    for e in pinschamfer_of_lpattern1_col_edges_10:
        pinschamfer_of_lpattern1_col.Add(PINSCHAMFER_OF_LPATTERN1_COL_SIZE, PINSCHAMFER_OF_LPATTERN1_COL_SIZE2, e.wrapped, pinschamfer_of_lpattern1_col_side_10[0].wrapped)  # the first distance lies on this face
    add(Compound.cast(pinschamfer_of_lpattern1_col.Shape()), mode=Mode.REPLACE)


solid = part.part
